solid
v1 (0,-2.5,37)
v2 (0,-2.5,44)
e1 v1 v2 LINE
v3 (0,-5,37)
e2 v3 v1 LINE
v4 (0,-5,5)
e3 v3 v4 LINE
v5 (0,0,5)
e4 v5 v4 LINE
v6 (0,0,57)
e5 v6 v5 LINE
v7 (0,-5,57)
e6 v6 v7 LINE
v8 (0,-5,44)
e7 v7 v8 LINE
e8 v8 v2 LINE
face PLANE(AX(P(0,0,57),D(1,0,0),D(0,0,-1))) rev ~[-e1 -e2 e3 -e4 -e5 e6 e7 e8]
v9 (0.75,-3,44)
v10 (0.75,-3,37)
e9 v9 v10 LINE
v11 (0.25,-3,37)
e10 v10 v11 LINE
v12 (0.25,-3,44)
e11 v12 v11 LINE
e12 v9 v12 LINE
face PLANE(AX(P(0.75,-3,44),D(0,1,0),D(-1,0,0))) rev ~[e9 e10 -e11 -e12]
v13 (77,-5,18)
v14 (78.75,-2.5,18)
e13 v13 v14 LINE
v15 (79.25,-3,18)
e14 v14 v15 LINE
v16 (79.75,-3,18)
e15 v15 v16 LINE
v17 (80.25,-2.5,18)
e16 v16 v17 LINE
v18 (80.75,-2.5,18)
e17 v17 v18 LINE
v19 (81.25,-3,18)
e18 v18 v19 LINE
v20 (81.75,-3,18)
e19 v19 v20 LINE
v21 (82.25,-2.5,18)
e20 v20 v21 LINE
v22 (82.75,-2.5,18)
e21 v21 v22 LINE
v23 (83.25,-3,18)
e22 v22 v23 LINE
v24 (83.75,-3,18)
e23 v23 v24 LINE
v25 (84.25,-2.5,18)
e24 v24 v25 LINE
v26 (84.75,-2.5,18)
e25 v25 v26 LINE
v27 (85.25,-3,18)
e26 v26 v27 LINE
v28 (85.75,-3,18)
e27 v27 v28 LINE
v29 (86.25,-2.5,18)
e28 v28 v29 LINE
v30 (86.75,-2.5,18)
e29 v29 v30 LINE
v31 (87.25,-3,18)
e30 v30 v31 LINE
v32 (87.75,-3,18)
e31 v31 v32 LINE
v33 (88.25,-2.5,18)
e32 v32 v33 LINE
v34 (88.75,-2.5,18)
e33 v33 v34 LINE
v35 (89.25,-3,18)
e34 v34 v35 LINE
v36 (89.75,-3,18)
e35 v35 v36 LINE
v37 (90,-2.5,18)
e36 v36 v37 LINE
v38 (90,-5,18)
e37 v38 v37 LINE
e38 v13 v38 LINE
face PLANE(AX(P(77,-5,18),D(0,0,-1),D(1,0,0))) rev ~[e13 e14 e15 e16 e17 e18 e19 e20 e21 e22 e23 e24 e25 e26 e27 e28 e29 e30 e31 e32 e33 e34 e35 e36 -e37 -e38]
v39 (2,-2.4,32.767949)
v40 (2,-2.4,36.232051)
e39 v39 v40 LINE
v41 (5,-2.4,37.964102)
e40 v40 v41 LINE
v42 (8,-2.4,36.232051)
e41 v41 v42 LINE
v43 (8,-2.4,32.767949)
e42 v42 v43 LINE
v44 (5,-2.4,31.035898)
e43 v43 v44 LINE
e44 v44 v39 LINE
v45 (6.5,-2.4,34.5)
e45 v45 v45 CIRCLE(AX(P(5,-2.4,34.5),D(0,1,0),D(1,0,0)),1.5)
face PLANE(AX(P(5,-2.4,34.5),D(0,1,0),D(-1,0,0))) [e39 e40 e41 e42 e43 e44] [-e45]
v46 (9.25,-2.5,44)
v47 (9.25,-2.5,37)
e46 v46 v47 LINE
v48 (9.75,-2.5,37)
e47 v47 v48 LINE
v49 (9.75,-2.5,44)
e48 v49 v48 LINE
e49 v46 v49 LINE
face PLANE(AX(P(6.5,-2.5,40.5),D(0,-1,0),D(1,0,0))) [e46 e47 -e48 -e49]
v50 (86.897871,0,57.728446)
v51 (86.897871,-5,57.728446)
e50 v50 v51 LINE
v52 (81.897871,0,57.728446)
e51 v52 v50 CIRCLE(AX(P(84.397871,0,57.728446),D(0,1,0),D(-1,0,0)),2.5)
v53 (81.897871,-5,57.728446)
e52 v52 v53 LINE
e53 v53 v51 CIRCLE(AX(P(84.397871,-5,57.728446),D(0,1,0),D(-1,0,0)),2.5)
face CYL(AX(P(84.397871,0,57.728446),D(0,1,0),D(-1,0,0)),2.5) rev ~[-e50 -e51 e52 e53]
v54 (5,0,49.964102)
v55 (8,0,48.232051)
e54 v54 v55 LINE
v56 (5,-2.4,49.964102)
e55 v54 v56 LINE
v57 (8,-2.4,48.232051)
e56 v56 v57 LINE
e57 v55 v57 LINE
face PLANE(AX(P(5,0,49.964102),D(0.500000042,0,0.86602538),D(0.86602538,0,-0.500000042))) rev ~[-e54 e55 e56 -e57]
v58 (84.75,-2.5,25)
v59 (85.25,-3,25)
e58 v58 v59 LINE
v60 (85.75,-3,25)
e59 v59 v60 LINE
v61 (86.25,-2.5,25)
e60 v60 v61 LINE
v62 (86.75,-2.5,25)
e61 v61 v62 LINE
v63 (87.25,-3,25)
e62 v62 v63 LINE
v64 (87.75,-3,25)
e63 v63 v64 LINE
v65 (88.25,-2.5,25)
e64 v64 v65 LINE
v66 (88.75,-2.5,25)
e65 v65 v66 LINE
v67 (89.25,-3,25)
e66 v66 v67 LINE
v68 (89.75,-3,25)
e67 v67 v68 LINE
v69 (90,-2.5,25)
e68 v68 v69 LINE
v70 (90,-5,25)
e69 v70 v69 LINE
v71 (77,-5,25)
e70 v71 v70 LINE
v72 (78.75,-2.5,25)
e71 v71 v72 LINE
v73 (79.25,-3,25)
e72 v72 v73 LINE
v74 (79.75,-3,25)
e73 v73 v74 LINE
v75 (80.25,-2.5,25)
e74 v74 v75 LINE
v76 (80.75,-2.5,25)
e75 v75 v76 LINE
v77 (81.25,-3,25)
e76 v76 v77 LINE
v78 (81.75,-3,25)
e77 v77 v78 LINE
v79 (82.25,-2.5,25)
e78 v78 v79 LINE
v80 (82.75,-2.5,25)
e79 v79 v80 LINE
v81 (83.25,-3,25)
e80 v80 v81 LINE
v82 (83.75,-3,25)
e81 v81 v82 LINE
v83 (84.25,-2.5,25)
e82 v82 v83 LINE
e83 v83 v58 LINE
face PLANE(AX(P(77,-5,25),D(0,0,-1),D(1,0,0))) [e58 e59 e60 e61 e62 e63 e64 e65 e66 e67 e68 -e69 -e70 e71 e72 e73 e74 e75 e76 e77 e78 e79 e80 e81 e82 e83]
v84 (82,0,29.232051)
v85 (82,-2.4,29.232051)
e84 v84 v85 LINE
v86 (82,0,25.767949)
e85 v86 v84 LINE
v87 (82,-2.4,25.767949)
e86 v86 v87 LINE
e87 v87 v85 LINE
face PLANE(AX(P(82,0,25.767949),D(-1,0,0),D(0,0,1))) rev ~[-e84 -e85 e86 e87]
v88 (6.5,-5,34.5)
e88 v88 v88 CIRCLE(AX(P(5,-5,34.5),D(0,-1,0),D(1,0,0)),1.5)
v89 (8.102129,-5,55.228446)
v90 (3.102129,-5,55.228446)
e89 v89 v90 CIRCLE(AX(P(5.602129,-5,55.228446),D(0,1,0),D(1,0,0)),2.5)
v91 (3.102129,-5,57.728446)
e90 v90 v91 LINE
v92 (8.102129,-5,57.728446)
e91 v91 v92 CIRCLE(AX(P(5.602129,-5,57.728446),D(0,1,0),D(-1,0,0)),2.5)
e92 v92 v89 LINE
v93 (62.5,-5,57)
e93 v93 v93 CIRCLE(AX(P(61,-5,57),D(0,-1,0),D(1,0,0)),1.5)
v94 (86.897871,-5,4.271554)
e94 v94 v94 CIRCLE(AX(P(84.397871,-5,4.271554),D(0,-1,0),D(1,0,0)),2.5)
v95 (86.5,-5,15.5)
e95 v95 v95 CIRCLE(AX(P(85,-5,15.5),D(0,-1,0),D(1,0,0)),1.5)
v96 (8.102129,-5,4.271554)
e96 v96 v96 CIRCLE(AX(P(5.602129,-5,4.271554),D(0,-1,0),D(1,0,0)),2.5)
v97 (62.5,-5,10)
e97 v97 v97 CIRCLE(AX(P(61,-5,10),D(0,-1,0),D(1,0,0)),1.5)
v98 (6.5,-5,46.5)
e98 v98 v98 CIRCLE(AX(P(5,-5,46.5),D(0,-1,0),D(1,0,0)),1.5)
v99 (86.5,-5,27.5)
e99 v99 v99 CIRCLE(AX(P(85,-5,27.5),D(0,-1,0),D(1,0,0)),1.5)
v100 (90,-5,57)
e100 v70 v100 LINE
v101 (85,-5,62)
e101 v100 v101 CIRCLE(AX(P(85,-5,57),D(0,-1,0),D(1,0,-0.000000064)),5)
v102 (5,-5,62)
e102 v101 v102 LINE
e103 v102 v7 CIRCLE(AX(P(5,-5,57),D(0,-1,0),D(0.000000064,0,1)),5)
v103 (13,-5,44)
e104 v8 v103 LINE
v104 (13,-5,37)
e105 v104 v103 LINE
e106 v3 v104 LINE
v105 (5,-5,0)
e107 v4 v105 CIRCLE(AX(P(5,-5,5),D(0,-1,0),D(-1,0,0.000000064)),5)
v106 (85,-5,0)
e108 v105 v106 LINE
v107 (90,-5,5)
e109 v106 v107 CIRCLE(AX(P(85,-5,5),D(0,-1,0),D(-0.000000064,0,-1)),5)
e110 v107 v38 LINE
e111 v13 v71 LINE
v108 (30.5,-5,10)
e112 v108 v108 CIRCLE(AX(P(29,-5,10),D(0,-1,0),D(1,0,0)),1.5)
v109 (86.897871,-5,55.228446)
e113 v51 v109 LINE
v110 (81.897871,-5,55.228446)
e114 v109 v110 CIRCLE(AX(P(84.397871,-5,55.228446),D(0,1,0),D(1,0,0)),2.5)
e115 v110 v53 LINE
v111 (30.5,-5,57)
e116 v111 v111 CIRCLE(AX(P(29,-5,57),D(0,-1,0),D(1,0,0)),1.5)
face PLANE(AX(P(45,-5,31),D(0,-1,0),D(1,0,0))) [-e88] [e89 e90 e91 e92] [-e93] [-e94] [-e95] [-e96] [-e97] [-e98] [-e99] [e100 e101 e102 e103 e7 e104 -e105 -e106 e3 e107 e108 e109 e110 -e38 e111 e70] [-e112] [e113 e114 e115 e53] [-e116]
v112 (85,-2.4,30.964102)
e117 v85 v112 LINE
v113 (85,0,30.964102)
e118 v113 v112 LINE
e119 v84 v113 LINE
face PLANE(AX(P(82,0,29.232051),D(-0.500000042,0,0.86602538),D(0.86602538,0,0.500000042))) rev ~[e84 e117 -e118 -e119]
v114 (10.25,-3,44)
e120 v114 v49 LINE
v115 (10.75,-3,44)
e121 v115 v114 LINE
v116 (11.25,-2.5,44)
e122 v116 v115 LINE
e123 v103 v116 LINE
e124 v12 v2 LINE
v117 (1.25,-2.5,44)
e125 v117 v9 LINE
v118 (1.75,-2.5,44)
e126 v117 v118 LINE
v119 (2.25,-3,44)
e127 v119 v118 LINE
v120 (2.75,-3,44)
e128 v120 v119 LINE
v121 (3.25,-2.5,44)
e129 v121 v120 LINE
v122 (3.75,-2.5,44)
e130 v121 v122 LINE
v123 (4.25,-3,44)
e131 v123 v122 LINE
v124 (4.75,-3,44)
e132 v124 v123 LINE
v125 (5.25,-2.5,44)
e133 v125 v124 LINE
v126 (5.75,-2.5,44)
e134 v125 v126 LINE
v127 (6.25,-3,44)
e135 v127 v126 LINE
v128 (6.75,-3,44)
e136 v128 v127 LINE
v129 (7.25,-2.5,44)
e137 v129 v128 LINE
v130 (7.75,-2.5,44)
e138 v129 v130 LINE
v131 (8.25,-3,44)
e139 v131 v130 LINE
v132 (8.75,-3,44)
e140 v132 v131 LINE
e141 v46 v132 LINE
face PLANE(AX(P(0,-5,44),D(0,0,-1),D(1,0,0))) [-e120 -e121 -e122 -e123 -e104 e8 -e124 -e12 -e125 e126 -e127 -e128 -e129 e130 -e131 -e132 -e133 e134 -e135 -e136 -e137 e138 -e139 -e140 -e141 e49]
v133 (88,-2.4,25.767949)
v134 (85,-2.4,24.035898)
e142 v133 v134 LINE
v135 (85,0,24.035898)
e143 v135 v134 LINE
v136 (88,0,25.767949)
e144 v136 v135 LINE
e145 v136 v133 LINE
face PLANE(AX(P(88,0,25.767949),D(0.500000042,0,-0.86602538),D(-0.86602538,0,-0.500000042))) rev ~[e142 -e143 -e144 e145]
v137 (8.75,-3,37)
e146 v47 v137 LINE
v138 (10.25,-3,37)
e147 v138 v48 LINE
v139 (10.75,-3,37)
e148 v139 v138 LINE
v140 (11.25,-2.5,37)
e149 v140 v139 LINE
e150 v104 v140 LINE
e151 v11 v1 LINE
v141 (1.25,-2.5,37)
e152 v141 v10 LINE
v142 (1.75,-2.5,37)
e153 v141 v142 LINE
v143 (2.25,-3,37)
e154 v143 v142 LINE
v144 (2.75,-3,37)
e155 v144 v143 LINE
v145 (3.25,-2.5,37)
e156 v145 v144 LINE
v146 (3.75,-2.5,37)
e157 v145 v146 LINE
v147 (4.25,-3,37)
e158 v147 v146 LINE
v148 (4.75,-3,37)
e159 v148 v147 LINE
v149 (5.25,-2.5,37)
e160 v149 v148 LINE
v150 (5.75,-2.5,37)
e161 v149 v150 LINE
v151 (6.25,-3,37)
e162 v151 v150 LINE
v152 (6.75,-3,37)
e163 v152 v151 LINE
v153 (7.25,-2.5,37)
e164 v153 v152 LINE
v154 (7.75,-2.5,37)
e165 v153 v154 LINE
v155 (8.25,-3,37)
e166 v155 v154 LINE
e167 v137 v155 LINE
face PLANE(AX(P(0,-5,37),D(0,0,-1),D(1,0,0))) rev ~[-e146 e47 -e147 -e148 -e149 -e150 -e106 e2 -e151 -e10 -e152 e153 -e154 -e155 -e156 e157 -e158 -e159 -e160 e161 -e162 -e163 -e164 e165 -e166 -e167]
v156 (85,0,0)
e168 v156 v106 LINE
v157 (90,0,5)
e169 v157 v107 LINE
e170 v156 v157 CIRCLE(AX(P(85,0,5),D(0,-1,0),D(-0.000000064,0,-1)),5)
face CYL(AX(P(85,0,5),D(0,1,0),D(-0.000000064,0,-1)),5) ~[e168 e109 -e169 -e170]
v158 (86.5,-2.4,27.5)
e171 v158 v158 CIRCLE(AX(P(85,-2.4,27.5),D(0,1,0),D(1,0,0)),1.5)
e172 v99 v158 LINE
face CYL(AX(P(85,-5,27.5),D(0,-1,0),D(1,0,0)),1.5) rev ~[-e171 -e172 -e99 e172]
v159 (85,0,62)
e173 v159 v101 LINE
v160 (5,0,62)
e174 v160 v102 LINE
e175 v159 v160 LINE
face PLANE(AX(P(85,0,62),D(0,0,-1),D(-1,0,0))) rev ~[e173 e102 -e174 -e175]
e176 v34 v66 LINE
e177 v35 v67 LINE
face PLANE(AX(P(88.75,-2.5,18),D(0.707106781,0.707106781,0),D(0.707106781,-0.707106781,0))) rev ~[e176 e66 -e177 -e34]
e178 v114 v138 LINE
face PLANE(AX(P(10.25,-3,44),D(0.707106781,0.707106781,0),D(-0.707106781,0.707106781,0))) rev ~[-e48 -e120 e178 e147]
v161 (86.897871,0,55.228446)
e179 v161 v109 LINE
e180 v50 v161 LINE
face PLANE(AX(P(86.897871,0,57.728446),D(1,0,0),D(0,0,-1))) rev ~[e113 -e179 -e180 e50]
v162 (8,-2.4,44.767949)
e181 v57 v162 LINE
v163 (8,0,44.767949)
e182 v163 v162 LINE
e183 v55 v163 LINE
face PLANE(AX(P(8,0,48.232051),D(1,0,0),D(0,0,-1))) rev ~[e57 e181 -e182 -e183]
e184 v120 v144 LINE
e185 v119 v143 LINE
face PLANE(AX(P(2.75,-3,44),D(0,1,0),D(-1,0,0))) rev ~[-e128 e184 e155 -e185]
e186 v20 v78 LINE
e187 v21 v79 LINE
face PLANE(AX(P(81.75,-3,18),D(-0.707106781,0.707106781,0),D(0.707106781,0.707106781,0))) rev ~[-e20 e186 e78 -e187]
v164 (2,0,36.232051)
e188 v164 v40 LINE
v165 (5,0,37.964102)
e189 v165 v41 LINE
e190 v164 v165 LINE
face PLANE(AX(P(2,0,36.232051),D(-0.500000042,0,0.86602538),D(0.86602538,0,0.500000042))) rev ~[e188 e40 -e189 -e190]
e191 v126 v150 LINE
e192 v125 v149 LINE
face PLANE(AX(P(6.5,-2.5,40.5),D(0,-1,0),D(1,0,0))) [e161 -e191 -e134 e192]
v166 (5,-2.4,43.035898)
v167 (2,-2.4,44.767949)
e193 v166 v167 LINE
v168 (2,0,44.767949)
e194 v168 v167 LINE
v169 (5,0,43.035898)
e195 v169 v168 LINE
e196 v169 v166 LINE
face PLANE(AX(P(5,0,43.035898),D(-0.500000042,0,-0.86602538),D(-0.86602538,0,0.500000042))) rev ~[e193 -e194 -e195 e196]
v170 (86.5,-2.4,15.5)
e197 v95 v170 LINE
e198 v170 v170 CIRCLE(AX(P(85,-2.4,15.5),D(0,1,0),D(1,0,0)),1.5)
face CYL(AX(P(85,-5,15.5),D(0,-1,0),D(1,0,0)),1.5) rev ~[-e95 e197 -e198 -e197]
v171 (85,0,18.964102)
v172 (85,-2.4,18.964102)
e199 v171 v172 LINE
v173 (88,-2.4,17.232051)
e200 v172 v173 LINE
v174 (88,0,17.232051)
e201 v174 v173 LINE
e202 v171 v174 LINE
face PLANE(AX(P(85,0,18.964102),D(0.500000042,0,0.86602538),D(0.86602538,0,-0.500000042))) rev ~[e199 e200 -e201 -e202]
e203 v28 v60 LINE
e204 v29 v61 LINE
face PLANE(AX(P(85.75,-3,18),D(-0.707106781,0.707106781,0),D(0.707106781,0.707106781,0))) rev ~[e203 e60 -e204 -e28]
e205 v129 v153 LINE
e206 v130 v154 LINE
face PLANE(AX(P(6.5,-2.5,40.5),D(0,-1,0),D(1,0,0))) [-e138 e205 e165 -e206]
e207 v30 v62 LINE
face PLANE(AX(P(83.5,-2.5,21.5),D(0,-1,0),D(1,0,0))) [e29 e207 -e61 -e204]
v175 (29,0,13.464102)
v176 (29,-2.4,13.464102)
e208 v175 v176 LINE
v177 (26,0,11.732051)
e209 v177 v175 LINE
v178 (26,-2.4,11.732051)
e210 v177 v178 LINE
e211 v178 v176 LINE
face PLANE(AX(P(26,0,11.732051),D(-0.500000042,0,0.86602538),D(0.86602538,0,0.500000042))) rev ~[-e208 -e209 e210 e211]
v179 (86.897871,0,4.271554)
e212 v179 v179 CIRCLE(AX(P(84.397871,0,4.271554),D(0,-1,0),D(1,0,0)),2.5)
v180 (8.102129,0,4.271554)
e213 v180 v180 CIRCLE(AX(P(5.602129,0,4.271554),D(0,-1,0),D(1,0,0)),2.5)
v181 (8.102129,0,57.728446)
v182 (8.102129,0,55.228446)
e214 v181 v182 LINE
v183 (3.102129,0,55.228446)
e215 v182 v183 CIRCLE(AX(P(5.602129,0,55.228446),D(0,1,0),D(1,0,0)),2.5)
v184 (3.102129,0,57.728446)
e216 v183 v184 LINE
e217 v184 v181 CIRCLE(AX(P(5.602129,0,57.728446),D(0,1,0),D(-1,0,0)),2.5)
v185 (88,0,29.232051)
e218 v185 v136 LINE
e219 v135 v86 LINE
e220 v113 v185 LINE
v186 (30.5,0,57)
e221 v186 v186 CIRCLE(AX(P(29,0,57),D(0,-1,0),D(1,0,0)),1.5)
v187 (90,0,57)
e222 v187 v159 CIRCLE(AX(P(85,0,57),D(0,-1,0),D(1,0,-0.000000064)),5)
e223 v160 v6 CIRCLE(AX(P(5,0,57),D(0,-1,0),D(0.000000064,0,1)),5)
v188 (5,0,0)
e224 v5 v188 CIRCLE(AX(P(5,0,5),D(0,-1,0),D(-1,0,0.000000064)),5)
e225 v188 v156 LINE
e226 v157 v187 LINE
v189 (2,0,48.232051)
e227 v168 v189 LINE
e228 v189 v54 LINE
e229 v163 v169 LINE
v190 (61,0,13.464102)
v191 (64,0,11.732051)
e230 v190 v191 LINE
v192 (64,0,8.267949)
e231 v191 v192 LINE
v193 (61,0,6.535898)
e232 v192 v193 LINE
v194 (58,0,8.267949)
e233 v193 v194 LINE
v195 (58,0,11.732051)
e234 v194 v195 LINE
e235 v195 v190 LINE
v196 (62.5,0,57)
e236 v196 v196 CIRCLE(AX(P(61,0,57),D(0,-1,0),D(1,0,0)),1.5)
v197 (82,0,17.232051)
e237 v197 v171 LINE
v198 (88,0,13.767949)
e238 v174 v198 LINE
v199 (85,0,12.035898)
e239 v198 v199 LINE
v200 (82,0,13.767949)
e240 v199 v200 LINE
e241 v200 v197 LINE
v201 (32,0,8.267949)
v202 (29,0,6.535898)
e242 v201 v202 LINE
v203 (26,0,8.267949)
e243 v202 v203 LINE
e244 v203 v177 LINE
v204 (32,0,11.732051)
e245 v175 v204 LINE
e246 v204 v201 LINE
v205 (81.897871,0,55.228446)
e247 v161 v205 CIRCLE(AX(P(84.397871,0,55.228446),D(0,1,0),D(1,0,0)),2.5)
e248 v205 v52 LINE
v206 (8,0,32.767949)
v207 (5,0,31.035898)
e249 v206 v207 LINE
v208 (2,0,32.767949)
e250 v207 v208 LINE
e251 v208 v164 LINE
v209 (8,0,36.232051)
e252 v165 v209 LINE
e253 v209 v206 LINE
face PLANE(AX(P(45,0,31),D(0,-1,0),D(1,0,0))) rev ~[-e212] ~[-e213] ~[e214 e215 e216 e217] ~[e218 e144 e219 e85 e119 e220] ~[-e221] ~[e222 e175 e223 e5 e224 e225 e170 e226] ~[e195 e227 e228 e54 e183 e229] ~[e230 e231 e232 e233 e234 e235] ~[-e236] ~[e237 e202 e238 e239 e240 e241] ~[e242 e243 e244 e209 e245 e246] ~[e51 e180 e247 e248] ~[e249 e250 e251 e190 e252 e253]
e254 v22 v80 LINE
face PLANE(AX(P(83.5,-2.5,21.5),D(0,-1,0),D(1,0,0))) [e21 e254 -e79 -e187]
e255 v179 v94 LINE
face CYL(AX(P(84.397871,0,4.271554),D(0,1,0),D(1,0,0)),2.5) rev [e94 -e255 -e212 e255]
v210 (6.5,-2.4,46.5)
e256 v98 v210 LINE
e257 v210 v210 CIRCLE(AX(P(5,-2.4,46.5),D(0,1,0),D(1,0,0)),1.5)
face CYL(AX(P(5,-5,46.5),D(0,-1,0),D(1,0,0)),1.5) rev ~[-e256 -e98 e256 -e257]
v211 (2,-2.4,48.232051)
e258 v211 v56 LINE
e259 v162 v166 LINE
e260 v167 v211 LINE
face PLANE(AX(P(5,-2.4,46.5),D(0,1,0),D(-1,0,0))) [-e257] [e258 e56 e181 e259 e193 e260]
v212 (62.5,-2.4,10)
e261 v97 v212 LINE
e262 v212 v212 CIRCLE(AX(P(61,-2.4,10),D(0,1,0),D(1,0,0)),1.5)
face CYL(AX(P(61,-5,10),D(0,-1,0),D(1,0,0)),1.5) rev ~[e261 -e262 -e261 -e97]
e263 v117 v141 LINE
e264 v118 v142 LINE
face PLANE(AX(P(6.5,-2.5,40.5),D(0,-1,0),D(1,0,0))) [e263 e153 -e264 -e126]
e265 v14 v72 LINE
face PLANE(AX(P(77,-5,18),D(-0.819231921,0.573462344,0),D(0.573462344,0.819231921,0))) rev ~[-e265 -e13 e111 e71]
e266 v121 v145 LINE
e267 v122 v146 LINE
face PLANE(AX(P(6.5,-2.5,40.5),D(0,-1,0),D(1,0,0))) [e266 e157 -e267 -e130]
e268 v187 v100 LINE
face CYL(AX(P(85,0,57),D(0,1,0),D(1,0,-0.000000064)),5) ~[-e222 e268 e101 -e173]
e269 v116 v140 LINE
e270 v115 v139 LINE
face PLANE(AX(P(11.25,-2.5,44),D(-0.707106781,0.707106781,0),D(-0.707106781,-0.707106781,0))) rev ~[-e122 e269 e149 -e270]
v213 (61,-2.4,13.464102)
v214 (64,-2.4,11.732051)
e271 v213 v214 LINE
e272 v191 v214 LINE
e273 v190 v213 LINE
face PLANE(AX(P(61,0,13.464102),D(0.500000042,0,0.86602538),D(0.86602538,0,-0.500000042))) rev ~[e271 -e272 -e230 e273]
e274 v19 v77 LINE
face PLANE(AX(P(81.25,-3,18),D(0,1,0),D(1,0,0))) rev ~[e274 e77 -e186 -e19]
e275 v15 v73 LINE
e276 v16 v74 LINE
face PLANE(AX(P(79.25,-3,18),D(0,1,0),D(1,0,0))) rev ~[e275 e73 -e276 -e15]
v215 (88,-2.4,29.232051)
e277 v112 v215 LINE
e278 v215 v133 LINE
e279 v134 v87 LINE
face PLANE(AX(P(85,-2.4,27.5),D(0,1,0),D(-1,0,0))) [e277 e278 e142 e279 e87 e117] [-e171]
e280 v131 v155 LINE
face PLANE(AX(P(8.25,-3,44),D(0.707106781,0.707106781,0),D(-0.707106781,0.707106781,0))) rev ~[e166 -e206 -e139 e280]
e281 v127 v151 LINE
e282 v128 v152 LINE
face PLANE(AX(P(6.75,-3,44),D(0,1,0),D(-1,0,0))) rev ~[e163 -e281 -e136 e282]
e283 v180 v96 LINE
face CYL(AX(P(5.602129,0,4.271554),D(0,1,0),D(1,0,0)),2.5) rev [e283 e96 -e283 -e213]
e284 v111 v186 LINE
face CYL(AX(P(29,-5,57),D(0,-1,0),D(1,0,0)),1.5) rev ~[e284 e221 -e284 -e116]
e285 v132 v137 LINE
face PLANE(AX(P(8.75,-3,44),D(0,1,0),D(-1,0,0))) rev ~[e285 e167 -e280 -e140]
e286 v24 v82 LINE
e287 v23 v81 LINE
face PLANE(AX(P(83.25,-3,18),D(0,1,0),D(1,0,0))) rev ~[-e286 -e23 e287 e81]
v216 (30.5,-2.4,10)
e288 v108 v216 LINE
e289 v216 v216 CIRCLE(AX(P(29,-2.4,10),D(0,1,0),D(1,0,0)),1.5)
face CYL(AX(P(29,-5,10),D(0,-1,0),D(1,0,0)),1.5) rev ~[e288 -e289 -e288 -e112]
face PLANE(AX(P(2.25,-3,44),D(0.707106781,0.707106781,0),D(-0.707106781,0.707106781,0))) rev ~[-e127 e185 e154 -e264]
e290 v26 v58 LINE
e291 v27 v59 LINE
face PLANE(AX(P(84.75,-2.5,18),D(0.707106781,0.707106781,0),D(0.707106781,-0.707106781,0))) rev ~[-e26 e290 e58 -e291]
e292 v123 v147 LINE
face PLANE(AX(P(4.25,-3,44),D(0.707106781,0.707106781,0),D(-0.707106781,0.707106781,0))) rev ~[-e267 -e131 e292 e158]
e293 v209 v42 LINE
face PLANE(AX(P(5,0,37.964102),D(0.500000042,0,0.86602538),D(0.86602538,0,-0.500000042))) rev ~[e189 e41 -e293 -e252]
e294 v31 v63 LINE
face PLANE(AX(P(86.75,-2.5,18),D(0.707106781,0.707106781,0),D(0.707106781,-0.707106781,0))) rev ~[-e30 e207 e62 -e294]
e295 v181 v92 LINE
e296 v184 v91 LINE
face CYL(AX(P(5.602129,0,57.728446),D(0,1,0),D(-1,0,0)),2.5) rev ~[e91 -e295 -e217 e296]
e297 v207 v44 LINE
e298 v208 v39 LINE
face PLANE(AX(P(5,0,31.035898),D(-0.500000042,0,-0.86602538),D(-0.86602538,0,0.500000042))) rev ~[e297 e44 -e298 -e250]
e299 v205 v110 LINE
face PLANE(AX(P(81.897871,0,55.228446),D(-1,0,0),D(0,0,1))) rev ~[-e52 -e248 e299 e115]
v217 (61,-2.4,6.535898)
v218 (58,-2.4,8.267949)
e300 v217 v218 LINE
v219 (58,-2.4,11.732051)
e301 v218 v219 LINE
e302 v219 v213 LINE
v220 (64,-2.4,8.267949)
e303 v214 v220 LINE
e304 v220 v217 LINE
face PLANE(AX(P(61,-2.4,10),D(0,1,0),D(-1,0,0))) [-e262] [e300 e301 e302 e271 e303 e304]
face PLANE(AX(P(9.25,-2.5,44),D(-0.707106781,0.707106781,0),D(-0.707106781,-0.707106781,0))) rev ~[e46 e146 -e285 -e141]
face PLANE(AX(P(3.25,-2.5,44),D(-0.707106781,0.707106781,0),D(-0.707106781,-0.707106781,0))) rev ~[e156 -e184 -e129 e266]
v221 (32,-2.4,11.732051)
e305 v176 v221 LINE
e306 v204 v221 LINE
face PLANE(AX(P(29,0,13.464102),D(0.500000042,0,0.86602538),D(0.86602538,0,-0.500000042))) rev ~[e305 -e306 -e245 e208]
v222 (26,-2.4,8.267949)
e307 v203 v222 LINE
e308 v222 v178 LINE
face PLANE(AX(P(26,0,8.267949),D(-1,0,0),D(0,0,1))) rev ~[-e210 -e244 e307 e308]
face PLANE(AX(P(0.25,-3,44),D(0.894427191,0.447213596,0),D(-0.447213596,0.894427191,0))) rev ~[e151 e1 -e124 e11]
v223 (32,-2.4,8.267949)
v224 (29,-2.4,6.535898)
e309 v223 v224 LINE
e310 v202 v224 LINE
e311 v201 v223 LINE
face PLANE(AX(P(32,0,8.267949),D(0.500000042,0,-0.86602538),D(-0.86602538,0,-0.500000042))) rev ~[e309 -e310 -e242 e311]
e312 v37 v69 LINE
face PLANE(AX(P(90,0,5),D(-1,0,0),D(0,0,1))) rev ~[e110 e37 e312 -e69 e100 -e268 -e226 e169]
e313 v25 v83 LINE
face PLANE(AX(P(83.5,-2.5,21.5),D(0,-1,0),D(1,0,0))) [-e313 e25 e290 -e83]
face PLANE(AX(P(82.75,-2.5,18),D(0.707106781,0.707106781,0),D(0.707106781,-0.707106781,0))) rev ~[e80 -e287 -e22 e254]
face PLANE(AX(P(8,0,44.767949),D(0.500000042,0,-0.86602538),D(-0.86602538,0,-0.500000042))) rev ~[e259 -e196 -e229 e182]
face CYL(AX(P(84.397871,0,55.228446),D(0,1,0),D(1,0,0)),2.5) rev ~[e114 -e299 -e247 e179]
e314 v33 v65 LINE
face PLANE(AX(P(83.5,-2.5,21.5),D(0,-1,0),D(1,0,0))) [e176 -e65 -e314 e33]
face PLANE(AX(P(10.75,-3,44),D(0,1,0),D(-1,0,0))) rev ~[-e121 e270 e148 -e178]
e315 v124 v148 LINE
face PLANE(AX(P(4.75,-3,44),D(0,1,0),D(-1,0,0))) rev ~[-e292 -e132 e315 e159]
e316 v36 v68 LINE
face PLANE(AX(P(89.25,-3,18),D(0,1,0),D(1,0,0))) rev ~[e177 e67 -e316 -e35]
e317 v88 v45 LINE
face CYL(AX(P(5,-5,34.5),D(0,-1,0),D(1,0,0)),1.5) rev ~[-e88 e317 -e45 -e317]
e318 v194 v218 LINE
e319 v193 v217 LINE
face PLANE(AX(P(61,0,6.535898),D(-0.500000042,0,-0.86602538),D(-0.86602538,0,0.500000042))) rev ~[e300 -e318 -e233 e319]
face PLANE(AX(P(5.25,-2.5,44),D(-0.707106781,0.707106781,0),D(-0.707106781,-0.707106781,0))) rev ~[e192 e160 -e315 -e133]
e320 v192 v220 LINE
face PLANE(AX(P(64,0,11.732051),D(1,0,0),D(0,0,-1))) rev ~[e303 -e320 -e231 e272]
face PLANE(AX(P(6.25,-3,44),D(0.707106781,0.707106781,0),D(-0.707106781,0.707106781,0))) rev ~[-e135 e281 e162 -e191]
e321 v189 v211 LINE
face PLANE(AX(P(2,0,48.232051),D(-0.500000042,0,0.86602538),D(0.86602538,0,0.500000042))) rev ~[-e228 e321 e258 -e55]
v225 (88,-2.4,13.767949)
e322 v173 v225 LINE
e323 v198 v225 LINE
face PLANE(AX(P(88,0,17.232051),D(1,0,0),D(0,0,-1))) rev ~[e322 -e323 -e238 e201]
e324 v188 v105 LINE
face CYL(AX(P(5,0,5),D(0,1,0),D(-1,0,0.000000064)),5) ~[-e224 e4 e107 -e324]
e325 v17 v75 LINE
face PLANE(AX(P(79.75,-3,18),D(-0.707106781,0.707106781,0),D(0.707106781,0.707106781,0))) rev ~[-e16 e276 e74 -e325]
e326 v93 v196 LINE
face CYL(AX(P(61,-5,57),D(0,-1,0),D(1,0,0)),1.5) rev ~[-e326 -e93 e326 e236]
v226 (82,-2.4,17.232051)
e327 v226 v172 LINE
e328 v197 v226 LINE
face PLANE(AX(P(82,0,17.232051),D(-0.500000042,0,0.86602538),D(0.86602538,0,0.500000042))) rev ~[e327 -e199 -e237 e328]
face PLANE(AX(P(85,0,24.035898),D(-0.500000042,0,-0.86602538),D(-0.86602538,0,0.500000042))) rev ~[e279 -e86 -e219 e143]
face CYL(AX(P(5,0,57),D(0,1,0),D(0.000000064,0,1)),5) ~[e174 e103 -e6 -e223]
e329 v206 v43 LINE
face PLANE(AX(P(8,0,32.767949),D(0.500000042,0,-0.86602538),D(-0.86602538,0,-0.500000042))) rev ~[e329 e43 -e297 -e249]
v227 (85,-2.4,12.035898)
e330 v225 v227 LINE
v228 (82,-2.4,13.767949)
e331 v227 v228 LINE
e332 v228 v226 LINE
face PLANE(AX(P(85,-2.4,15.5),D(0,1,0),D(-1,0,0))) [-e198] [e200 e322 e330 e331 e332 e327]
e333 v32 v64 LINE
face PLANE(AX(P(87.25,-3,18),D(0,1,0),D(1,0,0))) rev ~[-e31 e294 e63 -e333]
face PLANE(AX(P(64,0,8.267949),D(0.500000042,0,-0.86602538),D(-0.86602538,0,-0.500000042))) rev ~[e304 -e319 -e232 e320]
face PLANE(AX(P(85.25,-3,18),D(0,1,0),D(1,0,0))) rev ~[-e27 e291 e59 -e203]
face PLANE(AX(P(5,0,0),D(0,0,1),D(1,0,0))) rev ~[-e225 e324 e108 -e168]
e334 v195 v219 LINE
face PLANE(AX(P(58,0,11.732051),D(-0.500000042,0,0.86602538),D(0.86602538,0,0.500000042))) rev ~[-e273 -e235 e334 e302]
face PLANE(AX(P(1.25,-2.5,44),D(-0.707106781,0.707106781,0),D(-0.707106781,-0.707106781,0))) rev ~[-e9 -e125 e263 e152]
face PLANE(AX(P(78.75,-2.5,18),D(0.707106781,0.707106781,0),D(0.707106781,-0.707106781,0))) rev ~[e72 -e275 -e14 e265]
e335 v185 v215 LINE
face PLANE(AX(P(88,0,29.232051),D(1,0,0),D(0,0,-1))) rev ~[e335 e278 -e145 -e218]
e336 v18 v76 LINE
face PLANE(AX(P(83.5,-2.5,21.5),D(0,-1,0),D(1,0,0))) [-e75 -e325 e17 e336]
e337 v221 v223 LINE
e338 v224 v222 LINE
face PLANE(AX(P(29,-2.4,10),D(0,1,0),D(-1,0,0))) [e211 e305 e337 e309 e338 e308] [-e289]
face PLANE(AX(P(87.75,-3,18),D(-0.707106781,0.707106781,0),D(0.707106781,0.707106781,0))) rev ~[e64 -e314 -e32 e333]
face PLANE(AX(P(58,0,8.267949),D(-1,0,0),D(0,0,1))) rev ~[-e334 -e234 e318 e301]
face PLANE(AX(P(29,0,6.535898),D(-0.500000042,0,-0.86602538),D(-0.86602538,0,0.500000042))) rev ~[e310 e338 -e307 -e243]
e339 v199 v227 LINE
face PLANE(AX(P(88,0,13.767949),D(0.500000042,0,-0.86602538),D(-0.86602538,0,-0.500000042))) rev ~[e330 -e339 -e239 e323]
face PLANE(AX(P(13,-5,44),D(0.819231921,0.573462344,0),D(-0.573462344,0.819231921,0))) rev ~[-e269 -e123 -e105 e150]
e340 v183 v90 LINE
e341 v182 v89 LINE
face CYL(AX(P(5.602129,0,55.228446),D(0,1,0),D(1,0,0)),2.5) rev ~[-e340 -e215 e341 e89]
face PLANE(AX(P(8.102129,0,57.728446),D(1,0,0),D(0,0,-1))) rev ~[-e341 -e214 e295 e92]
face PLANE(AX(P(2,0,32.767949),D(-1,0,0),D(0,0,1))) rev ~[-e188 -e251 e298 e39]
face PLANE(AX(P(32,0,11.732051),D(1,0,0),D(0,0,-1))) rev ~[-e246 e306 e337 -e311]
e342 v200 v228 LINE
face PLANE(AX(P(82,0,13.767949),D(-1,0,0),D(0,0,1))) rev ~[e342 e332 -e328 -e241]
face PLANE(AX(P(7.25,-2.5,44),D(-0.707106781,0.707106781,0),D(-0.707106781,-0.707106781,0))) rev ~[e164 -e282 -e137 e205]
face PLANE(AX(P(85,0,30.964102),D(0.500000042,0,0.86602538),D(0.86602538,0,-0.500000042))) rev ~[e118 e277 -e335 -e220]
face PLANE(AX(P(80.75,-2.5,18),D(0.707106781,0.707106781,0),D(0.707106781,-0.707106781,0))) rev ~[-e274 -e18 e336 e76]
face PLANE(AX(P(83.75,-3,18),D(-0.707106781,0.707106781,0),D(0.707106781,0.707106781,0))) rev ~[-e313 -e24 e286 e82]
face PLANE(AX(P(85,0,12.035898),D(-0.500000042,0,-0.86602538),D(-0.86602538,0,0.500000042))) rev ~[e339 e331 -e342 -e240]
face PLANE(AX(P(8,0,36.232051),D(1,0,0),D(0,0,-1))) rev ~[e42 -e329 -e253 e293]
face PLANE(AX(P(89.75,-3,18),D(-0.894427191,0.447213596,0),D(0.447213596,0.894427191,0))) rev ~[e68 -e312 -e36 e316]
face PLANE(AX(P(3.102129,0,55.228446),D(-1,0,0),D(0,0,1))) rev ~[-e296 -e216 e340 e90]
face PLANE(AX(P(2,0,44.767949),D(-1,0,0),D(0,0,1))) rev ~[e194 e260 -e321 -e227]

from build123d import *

# Parameters (mm, degrees)
F0_R      = 2.5
F1_DEPTH  = 5
F2_W      = 13
F2_H      = 7
F3_DEPTH  = 2.5
F5_DEPTH  = 7
F7_DEPTH  = 7
F8_R      = 1.5
F9_DEPTH  = 5
F10_R     = 1.5
F11_DEPTH = 2.4
F12_R     = 1.5
F13_DEPTH = 5
F14_R     = 1.5
F15_DEPTH = 2.4


with BuildPart() as f1:
    # F0 (on Front) → F1 (new body)
    with BuildSketch(Plane.XZ):
        with BuildLine():
            ThreePointArc((0, 5), (1.464466, 1.464466), (5, 0))
            Line((5, 0), (85, 0))
            ThreePointArc((85, 0), (88.535534, 1.464466), (90, 5))
            Line((90, 5), (90, 57))
            ThreePointArc((90, 57), (88.535534, 60.535534), (85, 62))
            Line((85, 62), (5, 62))
            ThreePointArc((5, 62), (1.464466, 60.535534), (0, 57))
            Line((0, 57), (0, 5))
        make_face()
        with Locations((5.602129, 4.271554)):
            Circle(F0_R, mode=Mode.SUBTRACT)
        with Locations((84.397871, 4.271554)):
            Circle(F0_R, mode=Mode.SUBTRACT)
        with BuildLine():
            Line((3.102129, 55.228446), (3.102129, 57.728446))
            ThreePointArc((3.102129, 57.728446), (5.602129, 60.228446), (8.102129, 57.728446))
            Line((8.102129, 57.728446), (8.102129, 55.228446))
            ThreePointArc((8.102129, 55.228446), (5.602129, 52.728446), (3.102129, 55.228446))
        make_face(mode=Mode.SUBTRACT)
        with BuildLine():
            ThreePointArc((81.897871, 57.728446), (84.397871, 60.228446), (86.897871, 57.728446))
            Line((86.897871, 57.728446), (86.897871, 55.228446))
            ThreePointArc((86.897871, 55.228446), (84.397871, 52.728446), (81.897871, 55.228446))
            Line((81.897871, 55.228446), (81.897871, 57.728446))
        make_face(mode=Mode.SUBTRACT)
    extrude(amount=F1_DEPTH)

    # F2 (on face) → F3 (cut)
    with BuildSketch(Plane.XZ.offset(5)):
        with Locations((6.5, 40.5)):
            Rectangle(F2_W, F2_H)
        with Locations((83.5, 21.5)):
            Rectangle(F2_W, F2_H)
    extrude(amount=-F3_DEPTH, mode=Mode.SUBTRACT)

    # F4 (on face) → F5 (join, through all)
    with BuildSketch(Plane(origin=(0, 0, 44), x_dir=(1, 0, 0), z_dir=(0, 0, -1))):
        Polygon((13, 2.5), (13, 5), (11.25, 2.5), align=None)
        Polygon((7.75, 2.5), (9.25, 2.5), (8.75, 3), (8.25, 3), align=None)
        Polygon((9.75, 2.5), (11.25, 2.5), (10.75, 3), (10.25, 3), align=None)
        Polygon((6.25, 3), (5.75, 2.5), (7.25, 2.5), (6.75, 3), align=None)
        Polygon((4.25, 3), (3.75, 2.5), (5.25, 2.5), (4.75, 3), align=None)
        Polygon((2.25, 3), (1.75, 2.5), (3.25, 2.5), (2.75, 3), align=None)
        Polygon((0.25, 3), (0, 2.5), (1.25, 2.5), (0.75, 3), align=None)
    extrude(amount=F5_DEPTH)

    # F6 (on face) → F7 (join, through all)
    with BuildSketch(Plane.XY.offset(18)):
        Polygon((77, -2.5), (77, -5), (78.75, -2.5), align=None)
        Polygon((80.25, -2.5), (78.75, -2.5), (79.25, -3), (79.75, -3), align=None)
        Polygon((82.25, -2.5), (80.75, -2.5), (81.25, -3), (81.75, -3), align=None)
        Polygon((83.75, -3), (84.25, -2.5), (82.75, -2.5), (83.25, -3), align=None)
        Polygon((85.75, -3), (86.25, -2.5), (84.75, -2.5), (85.25, -3), align=None)
        Polygon((87.75, -3), (88.25, -2.5), (86.75, -2.5), (87.25, -3), align=None)
        Polygon((89.75, -3), (90, -2.5), (88.75, -2.5), (89.25, -3), align=None)
    extrude(amount=F7_DEPTH)

    # F8 (on face) → F9 (cut)
    with BuildSketch(Plane.XZ.offset(5)):
        with Locations((5, 46.5)):
            Circle(F8_R)
        with Locations((5, 34.5)):
            Circle(F8_R)
        with Locations((85, 27.5)):
            Circle(F8_R)
        with Locations((85, 15.5)):
            Circle(F8_R)
    extrude(amount=-F9_DEPTH, mode=Mode.SUBTRACT)

    # F10 (on face) → F11 (cut)
    with BuildSketch(Plane(origin=(0, 0, 0), x_dir=(-1, 0, 0), z_dir=(0, 1, 0))):
        Polygon((-82, 25.767949), (-82, 29.232051), (-85, 30.964102), (-88, 29.232051), (-88, 25.767949), (-85, 24.035898), align=None)
        with Locations((-85, 27.5)):
            Circle(F10_R, mode=Mode.SUBTRACT)
        Polygon((-82, 13.767949), (-82, 17.232051), (-85, 18.964102), (-88, 17.232051), (-88, 13.767949), (-85, 12.035898), align=None)
        with Locations((-85, 15.5)):
            Circle(F10_R, mode=Mode.SUBTRACT)
        Polygon((-8, 36.232051), (-8, 32.767949), (-5, 31.035898), (-2, 32.767949), (-2, 36.232051), (-5, 37.964102), align=None)
        with Locations((-5, 34.5)):
            Circle(F10_R, mode=Mode.SUBTRACT)
        Polygon((-8, 48.232051), (-8, 44.767949), (-5, 43.035898), (-2, 44.767949), (-2, 48.232051), (-5, 49.964102), align=None)
        with Locations((-5, 46.5)):
            Circle(F10_R, mode=Mode.SUBTRACT)
    extrude(amount=-F11_DEPTH, mode=Mode.SUBTRACT)

    # F12 (on face) → F13 (cut)
    with BuildSketch(Plane.XZ.offset(5)):
        with Locations((61, 57)):
            Circle(F12_R)
        with Locations((29, 57)):
            Circle(F12_R)
        with Locations((29, 10)):
            Circle(F12_R)
        with Locations((61, 10)):
            Circle(F12_R)
    extrude(amount=-F13_DEPTH, mode=Mode.SUBTRACT)

    # F14 (on face) → F15 (cut)
    with BuildSketch(Plane(origin=(0, 0, 0), x_dir=(-1, 0, 0), z_dir=(0, 1, 0))):
        Polygon((-58, 8.267949), (-58, 11.732051), (-61, 13.464102), (-64, 11.732051), (-64, 8.267949), (-61, 6.535898), align=None)
        with Locations((-61, 10)):
            Circle(F14_R, mode=Mode.SUBTRACT)
        Polygon((-32, 11.732051), (-32, 8.267949), (-29, 6.535898), (-26, 8.267949), (-26, 11.732051), (-29, 13.464102), align=None)
        with Locations((-29, 10)):
            Circle(F14_R, mode=Mode.SUBTRACT)
    extrude(amount=-F15_DEPTH, mode=Mode.SUBTRACT)


solid = f1.part
